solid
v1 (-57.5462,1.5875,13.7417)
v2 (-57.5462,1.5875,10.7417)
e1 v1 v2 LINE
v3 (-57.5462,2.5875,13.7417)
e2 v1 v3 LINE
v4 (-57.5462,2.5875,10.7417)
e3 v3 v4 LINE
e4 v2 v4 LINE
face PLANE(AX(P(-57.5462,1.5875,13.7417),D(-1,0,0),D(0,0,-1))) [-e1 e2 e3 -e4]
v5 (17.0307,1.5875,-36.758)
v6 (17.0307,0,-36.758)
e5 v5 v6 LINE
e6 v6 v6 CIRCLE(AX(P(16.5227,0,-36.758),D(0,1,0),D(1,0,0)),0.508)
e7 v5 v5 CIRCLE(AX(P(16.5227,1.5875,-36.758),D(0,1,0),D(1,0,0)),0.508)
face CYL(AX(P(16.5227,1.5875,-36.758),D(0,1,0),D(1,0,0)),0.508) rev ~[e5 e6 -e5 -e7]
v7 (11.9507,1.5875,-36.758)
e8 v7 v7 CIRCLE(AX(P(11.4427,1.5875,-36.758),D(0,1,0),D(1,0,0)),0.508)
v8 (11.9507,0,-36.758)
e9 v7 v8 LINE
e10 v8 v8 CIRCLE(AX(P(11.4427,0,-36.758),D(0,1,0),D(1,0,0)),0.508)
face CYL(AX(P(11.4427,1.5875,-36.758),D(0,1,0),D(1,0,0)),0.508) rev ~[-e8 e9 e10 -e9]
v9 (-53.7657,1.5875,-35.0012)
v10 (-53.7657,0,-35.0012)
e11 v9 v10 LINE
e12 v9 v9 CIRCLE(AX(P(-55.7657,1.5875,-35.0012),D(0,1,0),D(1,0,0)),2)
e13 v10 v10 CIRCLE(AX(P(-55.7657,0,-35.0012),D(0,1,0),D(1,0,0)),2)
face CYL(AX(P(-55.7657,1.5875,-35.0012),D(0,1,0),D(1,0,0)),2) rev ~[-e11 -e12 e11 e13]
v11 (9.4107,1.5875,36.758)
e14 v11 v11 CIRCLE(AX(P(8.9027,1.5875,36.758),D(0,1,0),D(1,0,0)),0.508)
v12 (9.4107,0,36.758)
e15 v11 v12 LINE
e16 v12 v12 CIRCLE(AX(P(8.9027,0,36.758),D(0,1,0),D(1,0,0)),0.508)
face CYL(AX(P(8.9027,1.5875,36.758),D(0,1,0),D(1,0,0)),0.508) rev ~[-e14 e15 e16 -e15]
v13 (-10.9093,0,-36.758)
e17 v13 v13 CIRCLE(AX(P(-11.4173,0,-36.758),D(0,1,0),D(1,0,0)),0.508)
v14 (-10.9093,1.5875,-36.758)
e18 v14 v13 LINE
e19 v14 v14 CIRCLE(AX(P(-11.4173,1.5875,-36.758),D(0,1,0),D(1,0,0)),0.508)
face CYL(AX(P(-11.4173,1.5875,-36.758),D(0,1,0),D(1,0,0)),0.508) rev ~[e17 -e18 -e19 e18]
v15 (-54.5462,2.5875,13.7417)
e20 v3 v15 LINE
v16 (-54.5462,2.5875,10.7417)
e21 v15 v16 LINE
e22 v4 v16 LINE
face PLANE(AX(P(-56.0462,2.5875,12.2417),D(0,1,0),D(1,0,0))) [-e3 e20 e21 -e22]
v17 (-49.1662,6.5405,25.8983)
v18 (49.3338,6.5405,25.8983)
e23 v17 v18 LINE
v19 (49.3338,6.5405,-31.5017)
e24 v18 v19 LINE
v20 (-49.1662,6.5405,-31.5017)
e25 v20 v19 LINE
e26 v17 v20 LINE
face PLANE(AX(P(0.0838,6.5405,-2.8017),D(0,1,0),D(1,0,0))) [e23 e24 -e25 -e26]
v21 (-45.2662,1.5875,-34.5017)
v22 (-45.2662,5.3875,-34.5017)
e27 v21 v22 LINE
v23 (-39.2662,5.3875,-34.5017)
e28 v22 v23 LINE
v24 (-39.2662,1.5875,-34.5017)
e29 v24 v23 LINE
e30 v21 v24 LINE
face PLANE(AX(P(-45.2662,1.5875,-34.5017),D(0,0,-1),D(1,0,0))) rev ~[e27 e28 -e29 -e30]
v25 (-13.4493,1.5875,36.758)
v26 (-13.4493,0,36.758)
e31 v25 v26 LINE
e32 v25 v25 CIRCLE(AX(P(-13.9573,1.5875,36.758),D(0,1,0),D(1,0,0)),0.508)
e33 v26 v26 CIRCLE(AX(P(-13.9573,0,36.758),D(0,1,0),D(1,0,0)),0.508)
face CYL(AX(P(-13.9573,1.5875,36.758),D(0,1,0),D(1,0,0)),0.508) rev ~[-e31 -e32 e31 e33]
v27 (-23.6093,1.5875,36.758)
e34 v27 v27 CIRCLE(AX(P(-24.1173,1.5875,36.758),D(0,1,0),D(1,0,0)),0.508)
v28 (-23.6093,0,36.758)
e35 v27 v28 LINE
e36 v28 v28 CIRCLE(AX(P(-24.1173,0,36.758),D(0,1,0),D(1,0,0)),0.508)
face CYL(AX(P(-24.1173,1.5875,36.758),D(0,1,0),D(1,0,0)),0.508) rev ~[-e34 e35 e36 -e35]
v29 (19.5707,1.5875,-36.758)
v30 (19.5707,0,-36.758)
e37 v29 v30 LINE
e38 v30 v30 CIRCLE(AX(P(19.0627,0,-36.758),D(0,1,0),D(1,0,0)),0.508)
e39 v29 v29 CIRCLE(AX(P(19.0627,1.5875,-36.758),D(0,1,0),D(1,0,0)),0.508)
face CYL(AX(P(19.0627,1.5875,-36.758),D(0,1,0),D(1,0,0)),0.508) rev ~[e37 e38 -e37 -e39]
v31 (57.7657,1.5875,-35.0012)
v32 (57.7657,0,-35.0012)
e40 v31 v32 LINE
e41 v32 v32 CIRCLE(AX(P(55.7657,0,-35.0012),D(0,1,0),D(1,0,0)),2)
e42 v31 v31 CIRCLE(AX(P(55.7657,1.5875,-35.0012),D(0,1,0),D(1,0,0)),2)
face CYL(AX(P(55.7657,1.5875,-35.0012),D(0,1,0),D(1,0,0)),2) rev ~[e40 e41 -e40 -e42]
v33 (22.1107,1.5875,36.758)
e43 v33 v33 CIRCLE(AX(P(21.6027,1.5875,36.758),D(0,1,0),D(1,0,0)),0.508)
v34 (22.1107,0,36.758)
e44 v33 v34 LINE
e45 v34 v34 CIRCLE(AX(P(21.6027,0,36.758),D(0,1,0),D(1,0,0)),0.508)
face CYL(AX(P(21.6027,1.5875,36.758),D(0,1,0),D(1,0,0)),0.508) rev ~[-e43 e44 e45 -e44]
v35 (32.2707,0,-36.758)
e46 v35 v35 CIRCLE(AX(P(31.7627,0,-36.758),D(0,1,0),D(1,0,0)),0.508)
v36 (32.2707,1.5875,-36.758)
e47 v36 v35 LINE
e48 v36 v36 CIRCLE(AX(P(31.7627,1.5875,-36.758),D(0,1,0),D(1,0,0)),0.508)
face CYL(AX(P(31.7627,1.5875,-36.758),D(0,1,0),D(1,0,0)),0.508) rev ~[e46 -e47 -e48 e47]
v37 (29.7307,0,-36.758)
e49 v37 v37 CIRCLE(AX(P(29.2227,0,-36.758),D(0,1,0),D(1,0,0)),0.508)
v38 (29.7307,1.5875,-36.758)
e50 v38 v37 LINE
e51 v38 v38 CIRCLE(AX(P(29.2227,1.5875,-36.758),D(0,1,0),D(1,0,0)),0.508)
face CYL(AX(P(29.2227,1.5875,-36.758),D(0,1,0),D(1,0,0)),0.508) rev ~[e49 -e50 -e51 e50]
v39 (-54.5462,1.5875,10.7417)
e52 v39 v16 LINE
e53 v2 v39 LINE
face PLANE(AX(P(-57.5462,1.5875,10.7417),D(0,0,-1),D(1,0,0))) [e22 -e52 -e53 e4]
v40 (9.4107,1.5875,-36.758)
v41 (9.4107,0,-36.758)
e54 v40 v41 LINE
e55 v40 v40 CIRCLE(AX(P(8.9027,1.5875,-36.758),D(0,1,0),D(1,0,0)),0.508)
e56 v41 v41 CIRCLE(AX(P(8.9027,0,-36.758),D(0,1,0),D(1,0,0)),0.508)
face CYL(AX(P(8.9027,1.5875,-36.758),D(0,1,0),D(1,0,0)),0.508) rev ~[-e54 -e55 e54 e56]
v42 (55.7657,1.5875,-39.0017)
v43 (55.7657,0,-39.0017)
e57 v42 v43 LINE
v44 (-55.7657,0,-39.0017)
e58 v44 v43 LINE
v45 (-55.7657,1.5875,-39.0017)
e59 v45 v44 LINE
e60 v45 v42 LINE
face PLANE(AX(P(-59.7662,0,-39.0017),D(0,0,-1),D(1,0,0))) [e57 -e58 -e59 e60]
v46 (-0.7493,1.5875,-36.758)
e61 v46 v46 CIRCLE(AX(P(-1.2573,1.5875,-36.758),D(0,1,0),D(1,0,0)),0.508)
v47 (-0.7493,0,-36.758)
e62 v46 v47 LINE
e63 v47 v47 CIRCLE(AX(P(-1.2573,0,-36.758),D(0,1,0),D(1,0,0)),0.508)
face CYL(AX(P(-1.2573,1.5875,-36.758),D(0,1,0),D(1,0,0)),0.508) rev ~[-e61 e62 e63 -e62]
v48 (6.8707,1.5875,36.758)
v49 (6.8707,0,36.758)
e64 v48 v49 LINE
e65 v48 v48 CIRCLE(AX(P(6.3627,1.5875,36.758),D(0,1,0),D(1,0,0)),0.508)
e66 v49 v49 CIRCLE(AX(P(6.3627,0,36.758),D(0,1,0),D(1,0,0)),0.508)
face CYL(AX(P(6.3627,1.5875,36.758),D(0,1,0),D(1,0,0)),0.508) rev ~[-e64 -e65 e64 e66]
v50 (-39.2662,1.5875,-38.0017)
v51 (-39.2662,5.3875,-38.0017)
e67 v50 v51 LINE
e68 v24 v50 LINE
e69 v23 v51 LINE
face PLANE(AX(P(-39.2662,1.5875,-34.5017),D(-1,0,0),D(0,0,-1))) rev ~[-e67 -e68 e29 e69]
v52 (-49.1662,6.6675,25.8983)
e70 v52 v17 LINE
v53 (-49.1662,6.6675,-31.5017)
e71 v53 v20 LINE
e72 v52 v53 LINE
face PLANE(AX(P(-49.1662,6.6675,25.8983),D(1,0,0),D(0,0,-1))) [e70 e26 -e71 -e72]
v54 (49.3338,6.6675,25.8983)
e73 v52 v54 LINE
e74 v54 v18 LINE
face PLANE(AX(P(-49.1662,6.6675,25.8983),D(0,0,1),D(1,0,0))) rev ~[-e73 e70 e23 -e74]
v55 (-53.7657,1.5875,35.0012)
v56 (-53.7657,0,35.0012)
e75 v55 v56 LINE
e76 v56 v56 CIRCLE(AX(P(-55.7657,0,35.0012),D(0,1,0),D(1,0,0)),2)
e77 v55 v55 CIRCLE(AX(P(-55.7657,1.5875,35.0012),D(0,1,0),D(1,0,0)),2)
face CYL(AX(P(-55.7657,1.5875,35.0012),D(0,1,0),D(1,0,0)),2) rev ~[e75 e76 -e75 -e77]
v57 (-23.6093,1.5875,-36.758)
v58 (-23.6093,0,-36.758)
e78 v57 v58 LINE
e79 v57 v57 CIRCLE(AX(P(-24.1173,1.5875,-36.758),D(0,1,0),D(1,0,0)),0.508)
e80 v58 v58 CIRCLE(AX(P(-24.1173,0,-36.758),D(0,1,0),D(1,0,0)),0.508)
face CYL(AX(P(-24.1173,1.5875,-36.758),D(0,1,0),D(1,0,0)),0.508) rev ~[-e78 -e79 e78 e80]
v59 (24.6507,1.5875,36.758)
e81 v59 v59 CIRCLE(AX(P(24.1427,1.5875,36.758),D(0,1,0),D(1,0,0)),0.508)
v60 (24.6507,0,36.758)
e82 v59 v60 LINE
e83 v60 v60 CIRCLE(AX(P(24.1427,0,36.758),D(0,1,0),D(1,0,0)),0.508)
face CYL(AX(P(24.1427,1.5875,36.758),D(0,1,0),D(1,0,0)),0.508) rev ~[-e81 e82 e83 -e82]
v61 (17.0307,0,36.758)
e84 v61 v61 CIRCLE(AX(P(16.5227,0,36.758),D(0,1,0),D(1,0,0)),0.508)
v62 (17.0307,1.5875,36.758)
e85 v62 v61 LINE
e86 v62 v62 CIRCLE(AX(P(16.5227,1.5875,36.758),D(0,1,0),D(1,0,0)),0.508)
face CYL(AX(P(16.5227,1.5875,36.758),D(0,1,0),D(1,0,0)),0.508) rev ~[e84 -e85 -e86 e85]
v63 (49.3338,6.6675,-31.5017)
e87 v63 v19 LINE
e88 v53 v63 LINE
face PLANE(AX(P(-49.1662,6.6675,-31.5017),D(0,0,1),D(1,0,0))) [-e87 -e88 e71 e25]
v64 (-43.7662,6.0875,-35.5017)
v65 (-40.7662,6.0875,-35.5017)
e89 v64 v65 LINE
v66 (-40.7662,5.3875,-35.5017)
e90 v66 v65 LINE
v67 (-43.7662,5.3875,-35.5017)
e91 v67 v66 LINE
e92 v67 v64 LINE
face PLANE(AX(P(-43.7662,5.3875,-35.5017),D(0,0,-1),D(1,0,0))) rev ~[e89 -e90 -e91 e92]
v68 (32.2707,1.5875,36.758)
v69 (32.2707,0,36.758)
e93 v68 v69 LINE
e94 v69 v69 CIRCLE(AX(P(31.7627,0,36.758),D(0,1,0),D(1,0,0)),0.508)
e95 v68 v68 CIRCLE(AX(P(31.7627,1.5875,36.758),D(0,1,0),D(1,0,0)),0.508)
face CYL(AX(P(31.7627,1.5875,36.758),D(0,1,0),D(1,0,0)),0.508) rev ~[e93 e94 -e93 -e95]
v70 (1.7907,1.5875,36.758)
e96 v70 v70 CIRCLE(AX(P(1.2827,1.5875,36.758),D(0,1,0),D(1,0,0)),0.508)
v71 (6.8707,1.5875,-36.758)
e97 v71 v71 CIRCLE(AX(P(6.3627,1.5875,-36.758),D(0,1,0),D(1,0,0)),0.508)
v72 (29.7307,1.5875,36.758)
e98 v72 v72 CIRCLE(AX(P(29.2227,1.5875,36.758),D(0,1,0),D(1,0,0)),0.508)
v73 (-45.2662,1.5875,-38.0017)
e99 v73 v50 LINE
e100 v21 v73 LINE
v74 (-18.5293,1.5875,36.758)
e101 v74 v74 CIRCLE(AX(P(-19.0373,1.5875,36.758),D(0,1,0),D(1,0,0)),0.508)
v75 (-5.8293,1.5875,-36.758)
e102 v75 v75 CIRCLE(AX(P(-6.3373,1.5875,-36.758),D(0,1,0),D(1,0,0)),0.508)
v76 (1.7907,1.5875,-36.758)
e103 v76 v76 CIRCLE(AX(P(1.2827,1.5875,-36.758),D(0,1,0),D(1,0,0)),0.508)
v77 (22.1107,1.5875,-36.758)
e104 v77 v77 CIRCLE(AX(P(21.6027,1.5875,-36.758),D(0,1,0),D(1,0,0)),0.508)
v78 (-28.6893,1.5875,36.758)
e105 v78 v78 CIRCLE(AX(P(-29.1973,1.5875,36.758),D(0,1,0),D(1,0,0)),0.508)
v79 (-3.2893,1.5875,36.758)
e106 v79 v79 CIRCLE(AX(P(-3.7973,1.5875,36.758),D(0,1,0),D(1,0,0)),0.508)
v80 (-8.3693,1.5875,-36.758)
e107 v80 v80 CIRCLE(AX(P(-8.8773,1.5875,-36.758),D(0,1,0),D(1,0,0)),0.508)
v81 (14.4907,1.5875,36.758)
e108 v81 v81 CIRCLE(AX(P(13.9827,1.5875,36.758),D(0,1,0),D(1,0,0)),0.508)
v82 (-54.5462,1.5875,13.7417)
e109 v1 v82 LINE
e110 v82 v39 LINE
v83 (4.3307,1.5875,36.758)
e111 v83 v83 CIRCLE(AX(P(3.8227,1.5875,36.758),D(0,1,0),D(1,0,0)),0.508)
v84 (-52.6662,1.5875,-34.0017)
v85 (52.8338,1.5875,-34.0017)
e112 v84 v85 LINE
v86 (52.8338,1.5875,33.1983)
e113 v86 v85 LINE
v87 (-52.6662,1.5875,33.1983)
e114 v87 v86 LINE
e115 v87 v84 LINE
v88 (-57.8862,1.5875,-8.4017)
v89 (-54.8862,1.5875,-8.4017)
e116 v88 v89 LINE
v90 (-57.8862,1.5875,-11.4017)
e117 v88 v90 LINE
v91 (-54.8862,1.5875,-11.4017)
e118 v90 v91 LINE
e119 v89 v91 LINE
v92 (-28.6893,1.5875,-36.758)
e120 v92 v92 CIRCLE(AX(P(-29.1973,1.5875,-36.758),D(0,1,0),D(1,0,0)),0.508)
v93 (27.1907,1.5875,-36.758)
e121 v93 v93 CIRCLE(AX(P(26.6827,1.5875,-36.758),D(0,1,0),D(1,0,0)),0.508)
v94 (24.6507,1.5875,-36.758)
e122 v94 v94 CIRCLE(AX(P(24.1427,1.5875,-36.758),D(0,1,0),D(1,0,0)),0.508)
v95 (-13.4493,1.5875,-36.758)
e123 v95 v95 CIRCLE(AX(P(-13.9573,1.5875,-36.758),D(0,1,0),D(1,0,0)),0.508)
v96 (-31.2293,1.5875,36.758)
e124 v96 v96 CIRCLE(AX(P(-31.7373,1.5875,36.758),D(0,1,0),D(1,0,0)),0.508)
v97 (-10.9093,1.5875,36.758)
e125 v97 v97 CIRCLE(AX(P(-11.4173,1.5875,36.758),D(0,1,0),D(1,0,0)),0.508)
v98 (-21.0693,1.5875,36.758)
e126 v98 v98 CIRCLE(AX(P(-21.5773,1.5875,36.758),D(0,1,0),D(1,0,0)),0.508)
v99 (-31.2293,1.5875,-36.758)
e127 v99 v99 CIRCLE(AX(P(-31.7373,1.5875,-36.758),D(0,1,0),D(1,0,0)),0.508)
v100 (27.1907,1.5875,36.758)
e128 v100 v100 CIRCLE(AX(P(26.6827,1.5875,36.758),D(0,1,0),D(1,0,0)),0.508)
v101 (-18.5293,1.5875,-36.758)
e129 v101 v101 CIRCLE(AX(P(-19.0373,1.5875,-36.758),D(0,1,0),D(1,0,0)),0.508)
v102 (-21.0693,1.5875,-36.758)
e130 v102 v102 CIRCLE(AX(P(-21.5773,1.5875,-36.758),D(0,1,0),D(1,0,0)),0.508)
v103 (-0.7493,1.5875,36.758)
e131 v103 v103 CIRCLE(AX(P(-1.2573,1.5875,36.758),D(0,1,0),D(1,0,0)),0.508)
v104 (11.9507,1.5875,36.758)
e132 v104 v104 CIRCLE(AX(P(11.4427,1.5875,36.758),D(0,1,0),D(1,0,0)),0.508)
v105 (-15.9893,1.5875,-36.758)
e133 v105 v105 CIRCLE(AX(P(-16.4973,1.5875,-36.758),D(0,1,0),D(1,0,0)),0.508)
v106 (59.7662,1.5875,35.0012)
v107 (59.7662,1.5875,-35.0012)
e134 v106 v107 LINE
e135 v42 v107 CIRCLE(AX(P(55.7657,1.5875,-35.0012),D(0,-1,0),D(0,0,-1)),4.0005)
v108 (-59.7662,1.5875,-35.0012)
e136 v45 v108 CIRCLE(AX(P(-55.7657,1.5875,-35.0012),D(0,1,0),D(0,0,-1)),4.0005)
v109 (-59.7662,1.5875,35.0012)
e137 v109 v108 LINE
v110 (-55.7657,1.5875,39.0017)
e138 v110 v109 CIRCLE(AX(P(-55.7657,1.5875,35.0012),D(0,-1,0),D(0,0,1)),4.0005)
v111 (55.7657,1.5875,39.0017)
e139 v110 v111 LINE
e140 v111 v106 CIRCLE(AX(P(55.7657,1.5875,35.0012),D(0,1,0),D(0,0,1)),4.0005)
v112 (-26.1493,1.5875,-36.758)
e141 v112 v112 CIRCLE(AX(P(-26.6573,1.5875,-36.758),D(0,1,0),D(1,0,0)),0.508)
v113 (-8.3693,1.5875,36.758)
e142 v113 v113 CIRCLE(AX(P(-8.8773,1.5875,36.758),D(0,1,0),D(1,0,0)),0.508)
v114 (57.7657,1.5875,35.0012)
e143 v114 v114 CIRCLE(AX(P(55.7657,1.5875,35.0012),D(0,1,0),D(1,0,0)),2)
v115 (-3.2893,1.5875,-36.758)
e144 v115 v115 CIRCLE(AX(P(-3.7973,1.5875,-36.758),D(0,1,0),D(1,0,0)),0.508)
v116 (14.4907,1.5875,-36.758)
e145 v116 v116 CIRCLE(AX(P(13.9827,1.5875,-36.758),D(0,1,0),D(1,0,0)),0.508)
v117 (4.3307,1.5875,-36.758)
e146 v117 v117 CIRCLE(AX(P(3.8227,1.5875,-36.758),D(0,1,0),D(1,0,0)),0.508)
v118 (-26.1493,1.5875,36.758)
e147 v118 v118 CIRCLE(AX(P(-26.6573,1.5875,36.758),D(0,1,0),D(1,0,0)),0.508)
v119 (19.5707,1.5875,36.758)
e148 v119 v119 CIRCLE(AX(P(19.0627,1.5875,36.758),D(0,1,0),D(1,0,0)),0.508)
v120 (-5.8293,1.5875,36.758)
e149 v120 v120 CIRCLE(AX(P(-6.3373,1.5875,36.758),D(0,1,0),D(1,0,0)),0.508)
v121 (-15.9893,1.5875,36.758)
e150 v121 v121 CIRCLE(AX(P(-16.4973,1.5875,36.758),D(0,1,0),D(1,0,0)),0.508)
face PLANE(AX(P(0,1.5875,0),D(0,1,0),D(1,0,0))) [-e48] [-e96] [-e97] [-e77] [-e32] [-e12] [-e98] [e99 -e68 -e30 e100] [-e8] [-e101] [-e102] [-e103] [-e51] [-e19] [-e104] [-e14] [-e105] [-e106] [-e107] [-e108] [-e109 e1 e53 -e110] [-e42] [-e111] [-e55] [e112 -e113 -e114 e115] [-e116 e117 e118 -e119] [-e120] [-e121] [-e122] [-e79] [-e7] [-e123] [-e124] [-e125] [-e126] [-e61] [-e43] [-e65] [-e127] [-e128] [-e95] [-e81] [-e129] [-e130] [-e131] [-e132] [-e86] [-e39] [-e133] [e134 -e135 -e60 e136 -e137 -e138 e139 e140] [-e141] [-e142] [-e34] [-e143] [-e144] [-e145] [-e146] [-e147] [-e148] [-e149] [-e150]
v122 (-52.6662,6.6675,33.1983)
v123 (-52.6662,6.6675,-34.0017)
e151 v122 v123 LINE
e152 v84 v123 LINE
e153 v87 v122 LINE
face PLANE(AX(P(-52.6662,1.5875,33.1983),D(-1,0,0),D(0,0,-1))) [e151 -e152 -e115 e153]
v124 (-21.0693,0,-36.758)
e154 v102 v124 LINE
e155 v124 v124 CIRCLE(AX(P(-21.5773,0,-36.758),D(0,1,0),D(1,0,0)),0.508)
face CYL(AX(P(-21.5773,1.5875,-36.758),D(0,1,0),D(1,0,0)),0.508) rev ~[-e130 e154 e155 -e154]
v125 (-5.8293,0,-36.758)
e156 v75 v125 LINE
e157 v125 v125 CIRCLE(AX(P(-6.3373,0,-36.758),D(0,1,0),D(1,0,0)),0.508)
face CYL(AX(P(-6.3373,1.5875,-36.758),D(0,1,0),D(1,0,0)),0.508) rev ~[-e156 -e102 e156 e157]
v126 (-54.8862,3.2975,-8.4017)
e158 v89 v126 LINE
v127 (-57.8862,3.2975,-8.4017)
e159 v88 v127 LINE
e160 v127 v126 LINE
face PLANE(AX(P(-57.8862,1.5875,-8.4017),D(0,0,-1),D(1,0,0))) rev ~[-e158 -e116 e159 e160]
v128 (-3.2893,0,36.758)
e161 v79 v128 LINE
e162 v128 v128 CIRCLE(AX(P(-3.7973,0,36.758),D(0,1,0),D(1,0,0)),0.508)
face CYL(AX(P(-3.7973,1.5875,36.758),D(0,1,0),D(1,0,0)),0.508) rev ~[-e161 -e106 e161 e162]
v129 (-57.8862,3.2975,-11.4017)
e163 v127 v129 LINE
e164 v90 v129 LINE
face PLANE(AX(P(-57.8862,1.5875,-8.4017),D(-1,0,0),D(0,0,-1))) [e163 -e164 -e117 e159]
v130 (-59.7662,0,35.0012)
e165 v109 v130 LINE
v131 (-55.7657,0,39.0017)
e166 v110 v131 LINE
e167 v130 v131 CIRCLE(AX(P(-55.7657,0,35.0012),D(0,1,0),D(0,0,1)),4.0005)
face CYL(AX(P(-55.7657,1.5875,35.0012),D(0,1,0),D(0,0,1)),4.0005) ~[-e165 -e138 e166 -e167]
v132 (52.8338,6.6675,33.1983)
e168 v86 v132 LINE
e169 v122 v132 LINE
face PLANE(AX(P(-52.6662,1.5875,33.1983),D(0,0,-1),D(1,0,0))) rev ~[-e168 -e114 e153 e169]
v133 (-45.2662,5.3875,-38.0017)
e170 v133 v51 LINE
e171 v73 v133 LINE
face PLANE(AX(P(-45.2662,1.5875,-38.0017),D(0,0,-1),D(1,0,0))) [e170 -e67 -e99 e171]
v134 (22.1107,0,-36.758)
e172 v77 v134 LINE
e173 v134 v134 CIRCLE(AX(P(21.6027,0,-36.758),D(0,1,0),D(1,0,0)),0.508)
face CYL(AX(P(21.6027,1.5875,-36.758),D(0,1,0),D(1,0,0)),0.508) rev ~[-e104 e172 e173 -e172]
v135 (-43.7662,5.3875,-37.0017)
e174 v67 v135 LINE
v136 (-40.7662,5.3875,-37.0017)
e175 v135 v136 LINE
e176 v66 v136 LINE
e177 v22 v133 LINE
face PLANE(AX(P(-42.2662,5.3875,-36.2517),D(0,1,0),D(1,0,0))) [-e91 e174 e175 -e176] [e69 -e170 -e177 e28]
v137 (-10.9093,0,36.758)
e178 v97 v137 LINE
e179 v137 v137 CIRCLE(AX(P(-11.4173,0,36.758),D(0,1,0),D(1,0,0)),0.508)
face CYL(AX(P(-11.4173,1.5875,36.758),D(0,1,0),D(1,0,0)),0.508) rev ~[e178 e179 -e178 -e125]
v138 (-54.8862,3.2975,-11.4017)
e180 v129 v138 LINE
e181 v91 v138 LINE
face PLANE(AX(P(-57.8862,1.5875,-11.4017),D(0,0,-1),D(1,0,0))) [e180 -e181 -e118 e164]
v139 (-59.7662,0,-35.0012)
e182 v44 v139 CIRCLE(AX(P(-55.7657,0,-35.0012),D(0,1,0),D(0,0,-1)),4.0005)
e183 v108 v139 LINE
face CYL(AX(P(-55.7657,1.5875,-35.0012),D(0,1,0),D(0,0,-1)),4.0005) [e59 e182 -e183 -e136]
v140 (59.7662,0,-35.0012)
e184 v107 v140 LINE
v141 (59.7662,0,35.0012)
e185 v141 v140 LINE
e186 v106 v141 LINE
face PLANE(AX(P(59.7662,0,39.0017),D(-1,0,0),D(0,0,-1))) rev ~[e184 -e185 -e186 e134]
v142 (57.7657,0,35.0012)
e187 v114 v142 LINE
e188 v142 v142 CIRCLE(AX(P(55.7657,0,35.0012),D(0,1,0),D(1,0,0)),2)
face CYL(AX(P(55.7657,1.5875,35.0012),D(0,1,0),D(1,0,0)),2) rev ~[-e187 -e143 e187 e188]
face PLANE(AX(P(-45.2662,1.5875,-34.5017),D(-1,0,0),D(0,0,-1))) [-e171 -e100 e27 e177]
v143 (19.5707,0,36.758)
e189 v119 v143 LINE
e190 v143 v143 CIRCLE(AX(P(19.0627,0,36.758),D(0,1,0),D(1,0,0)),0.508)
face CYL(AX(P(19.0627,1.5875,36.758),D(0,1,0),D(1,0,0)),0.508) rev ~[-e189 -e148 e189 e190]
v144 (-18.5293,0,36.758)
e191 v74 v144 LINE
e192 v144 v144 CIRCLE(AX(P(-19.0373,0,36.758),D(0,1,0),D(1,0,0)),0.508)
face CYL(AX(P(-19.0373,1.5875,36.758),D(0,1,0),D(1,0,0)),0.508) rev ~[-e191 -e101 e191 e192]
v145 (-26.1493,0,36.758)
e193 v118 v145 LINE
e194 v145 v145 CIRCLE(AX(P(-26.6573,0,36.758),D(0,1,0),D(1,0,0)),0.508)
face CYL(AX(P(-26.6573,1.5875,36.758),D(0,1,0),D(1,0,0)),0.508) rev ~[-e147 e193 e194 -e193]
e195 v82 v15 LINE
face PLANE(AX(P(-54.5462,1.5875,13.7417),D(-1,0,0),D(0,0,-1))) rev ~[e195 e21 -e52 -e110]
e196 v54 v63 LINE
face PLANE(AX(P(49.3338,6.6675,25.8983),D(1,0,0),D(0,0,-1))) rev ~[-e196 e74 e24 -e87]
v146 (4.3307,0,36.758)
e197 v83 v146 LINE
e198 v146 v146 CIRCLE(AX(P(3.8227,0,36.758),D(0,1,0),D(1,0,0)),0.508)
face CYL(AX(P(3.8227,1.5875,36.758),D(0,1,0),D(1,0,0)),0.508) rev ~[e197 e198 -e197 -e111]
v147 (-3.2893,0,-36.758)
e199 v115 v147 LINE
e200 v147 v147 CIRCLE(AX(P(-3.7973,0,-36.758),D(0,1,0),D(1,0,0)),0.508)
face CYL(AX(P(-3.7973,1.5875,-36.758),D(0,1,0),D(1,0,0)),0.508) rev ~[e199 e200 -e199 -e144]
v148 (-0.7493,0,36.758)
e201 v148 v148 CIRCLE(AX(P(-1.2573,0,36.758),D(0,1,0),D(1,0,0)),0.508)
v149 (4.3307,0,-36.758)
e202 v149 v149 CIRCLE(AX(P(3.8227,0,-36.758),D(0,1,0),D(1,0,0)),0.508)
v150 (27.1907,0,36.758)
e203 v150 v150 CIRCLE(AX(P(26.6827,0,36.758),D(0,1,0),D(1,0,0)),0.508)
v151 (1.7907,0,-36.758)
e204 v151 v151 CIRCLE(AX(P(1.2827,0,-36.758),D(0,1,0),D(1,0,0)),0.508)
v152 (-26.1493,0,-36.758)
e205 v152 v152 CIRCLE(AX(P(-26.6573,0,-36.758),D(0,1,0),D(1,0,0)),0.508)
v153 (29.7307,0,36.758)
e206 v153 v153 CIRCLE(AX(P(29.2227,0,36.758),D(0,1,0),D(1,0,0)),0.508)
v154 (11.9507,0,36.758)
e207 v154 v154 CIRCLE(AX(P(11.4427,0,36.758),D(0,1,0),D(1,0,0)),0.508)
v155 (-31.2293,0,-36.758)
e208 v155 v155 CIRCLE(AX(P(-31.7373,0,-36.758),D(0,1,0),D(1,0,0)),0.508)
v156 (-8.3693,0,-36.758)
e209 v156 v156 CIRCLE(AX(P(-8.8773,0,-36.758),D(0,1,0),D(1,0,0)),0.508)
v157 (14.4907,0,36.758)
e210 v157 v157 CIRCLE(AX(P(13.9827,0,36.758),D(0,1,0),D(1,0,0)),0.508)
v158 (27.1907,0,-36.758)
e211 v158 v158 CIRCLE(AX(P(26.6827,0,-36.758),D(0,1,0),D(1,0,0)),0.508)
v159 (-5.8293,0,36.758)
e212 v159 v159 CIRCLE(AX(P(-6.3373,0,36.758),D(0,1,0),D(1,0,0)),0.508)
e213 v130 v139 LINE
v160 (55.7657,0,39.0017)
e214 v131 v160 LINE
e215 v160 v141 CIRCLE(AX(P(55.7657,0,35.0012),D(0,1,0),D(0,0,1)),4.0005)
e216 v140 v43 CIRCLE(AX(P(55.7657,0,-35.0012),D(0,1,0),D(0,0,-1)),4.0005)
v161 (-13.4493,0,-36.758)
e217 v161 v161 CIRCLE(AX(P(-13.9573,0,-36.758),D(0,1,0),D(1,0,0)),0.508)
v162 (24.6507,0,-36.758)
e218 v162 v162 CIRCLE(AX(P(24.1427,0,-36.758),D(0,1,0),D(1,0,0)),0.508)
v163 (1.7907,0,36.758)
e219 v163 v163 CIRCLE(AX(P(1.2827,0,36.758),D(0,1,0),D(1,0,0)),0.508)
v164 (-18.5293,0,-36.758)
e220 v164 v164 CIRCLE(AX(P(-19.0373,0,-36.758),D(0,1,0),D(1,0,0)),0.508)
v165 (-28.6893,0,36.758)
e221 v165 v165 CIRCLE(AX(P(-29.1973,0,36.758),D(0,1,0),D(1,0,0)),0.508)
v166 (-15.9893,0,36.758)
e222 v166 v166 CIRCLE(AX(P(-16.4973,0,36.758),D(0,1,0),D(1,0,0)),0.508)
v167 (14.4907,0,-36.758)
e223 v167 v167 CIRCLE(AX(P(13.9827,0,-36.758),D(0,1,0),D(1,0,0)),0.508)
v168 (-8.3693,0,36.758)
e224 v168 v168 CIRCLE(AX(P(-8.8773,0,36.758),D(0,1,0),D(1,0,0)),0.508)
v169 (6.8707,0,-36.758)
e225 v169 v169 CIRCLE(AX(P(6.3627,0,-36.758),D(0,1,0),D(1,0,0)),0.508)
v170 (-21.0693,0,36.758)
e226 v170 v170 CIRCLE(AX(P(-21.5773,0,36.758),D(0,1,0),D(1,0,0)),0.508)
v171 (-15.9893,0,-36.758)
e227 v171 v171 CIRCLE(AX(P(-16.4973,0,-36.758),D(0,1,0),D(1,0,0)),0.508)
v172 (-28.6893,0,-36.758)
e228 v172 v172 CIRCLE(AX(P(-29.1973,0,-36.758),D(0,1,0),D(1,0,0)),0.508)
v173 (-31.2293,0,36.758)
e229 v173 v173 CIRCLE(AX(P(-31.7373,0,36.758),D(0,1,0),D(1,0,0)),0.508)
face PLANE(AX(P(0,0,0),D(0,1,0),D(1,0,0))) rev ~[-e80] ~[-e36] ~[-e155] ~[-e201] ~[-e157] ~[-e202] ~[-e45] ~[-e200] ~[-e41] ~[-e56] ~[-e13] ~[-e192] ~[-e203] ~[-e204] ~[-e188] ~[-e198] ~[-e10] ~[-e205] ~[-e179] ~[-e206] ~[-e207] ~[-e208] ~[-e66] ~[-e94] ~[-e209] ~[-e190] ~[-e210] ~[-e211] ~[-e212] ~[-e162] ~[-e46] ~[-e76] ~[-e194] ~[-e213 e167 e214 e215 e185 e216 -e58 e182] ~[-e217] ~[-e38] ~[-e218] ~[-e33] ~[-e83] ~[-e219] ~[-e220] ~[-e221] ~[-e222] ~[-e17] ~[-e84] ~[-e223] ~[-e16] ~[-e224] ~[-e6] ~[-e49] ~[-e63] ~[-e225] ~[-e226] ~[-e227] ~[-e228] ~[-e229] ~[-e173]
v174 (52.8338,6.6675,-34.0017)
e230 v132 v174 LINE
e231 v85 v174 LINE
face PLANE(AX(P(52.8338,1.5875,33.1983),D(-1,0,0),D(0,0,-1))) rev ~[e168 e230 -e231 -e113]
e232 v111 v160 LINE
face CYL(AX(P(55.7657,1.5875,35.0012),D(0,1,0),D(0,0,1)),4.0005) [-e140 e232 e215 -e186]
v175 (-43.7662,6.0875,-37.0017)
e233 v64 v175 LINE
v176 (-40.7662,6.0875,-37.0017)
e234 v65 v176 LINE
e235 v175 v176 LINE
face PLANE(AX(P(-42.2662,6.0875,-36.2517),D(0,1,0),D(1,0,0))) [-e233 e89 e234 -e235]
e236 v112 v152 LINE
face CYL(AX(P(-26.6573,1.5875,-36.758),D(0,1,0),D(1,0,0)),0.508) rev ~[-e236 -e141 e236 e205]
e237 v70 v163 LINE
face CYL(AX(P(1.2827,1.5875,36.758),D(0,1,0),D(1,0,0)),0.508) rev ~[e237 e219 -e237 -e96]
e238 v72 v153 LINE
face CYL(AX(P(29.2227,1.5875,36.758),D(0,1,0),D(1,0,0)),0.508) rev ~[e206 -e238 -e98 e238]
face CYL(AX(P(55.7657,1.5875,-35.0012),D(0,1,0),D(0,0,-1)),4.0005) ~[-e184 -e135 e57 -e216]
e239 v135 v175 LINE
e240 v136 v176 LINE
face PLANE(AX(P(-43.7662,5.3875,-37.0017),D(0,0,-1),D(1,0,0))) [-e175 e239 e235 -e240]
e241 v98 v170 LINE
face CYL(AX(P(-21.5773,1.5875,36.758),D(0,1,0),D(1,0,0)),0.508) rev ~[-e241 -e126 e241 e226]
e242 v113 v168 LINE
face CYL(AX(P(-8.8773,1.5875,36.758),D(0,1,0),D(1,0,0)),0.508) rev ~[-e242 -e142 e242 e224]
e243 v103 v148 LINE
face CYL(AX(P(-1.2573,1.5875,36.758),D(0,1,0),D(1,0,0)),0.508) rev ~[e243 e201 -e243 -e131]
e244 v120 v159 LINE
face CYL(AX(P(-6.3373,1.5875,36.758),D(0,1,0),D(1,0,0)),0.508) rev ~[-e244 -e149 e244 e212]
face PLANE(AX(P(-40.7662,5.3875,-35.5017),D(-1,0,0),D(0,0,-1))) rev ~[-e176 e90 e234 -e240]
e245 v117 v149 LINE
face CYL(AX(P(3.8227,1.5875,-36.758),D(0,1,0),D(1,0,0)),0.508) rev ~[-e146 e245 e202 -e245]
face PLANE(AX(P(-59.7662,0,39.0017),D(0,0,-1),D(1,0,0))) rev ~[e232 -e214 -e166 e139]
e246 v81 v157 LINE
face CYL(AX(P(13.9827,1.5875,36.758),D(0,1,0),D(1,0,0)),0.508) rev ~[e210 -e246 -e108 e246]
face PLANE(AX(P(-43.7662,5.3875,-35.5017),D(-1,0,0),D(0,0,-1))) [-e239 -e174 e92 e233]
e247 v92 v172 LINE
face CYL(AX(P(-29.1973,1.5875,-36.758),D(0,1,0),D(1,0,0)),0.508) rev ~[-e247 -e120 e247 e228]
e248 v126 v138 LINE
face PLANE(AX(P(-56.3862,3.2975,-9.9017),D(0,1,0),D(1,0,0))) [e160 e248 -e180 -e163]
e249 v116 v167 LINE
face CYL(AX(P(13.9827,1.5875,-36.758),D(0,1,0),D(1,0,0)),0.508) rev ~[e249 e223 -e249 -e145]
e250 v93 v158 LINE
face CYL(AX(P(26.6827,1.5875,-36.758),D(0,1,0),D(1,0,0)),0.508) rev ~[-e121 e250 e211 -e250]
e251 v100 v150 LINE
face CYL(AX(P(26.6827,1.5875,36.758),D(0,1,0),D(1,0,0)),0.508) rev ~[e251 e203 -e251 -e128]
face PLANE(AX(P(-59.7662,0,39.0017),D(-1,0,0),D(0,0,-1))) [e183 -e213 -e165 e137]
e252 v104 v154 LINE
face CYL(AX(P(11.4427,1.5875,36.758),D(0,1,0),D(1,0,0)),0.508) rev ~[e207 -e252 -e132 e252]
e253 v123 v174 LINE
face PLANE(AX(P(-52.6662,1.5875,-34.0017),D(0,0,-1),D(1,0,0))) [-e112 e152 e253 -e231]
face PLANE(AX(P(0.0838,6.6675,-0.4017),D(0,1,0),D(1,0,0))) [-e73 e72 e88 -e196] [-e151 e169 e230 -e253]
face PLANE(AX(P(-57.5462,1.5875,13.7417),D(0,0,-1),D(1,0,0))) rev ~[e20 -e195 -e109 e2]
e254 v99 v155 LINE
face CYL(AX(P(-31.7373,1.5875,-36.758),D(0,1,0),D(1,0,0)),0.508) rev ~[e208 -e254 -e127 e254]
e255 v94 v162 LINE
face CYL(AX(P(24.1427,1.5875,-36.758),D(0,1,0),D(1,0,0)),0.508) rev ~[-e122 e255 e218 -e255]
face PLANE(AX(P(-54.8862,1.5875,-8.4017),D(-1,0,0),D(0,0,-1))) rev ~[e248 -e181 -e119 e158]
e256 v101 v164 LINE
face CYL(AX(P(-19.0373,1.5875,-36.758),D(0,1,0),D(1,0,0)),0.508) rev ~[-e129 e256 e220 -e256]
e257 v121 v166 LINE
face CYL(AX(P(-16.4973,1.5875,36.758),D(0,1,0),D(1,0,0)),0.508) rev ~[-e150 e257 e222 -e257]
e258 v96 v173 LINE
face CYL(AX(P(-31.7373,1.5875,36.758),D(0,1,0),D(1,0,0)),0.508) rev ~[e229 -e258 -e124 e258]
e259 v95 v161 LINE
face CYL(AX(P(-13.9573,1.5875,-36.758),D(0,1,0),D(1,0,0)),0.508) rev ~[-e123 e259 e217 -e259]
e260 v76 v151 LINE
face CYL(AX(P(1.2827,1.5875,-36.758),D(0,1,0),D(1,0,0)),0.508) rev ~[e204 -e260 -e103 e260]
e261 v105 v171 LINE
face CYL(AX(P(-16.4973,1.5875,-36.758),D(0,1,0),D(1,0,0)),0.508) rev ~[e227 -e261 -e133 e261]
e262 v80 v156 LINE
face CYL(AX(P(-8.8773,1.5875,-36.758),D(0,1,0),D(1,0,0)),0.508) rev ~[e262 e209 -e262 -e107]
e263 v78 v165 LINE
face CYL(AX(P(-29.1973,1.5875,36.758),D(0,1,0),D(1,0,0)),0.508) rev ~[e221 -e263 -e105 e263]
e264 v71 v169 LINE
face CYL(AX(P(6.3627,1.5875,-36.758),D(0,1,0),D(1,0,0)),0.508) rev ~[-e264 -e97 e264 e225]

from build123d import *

# Parameters (mm, degrees)
SKETCH1_W           = 119.5324
SKETCH1_H           = 78.0034
BOSS_EXTRUDE1_DEPTH = 1.5875
CUT_EXTRUDE1_REACH  = 3.587
SKETCH2_R           = 2
SKETCH3_R           = 0.508
CUT_EXTRUDE2_DEPTH  = 1.5875
CUT_EXTRUDE4_REACH  = 3.587
LPATTERN1_COUNT     = 26
LPATTERN1_PITCH     = 2.54
SKETCH5_W           = 105.5
SKETCH5_H           = 67.2
BOSS_EXTRUDE2_DEPTH = 5.08
SKETCH6_W           = 98.5
SKETCH6_H           = 57.4
CUT_EXTRUDE3_DEPTH  = 0.127
SKETCH7_W           = 6
SKETCH7_H           = 3.5
BOSS_EXTRUDE3_DEPTH = 3.8
SKETCH8_W           = 3
SKETCH8_H           = 1.5
BOSS_EXTRUDE4_DEPTH = 0.7
SKETCH9_W           = 3
SKETCH9_H           = 3
BOSS_EXTRUDE5_DEPTH = 1.71
SKETCH10_W          = 3
SKETCH10_H          = 3
BOSS_EXTRUDE6_DEPTH = 1


with BuildPart() as part:
    # Sketch1 → Boss-Extrude1 (new body)
    with BuildSketch(Plane(origin=(0, 0, 0), x_dir=(1, 0, 0), z_dir=(0, 1, 0))):
        Rectangle(SKETCH1_W, SKETCH1_H)
    extrude(amount=BOSS_EXTRUDE1_DEPTH)

    # Sketch2 → Cut-Extrude1 (cut, up to next)
    with BuildSketch(Plane(origin=(0, 1.5875, 0), x_dir=(1, 0, 0), z_dir=(0, 1, 0)), mode=Mode.PRIVATE) as cut_extrude1_sk1:
        with Locations((-55.7657, 35.0012)):
            Circle(SKETCH2_R)
    cut_extrude1_tool1 = extrude(cut_extrude1_sk1.sketch, amount=-CUT_EXTRUDE1_REACH, mode=Mode.PRIVATE) & part.part
    add(cut_extrude1_tool1.solids().sort_by_distance((-55.7657, 1.5875, -35.0012))[0], mode=Mode.SUBTRACT)
    # Sketch2 → Cut-Extrude1 (cut, up to next)
    with BuildSketch(Plane(origin=(0, 1.5875, 0), x_dir=(1, 0, 0), z_dir=(0, 1, 0)), mode=Mode.PRIVATE) as cut_extrude1_sk2:
        with Locations((-55.7657, -35.0012)):
            Circle(SKETCH2_R)
    cut_extrude1_tool2 = extrude(cut_extrude1_sk2.sketch, amount=-CUT_EXTRUDE1_REACH, mode=Mode.PRIVATE) & part.part
    add(cut_extrude1_tool2.solids().sort_by_distance((-55.7657, 1.5875, 35.0012))[0], mode=Mode.SUBTRACT)
    # Sketch2 → Cut-Extrude1 (cut, up to next)
    with BuildSketch(Plane(origin=(0, 1.5875, 0), x_dir=(1, 0, 0), z_dir=(0, 1, 0)), mode=Mode.PRIVATE) as cut_extrude1_sk3:
        with Locations((55.7657, 35.0012)):
            Circle(SKETCH2_R)
    cut_extrude1_tool3 = extrude(cut_extrude1_sk3.sketch, amount=-CUT_EXTRUDE1_REACH, mode=Mode.PRIVATE) & part.part
    add(cut_extrude1_tool3.solids().sort_by_distance((55.7657, 1.5875, -35.0012))[0], mode=Mode.SUBTRACT)
    # Sketch2 → Cut-Extrude1 (cut, up to next)
    with BuildSketch(Plane(origin=(0, 1.5875, 0), x_dir=(1, 0, 0), z_dir=(0, 1, 0)), mode=Mode.PRIVATE) as cut_extrude1_sk4:
        with Locations((55.7657, -35.0012)):
            Circle(SKETCH2_R)
    cut_extrude1_tool4 = extrude(cut_extrude1_sk4.sketch, amount=-CUT_EXTRUDE1_REACH, mode=Mode.PRIVATE) & part.part
    add(cut_extrude1_tool4.solids().sort_by_distance((55.7657, 1.5875, 35.0012))[0], mode=Mode.SUBTRACT)

    # Sketch3 → Cut-Extrude2 (cut)
    with BuildSketch(Plane(origin=(0, 1.5875, 0), x_dir=(1, 0, 0), z_dir=(0, 1, 0))):
        with Locations((-31.7373, 36.758)):
            Circle(SKETCH3_R)
        with Locations((-31.7373, -36.758)):
            Circle(SKETCH3_R)
    cut_extrude2 = extrude(amount=-CUT_EXTRUDE2_DEPTH, mode=Mode.SUBTRACT)

    # Sketch11 → Cut-Extrude4 (cut, up to next)
    with BuildSketch(Plane(origin=(0, 1.5875, 0), x_dir=(1, 0, 0), z_dir=(0, 1, 0)), mode=Mode.PRIVATE) as cut_extrude4_sk1:
        with BuildLine():
            Line((-59.7662, 35.0012), (-59.7662, 39.0017))
            Line((-59.7662, 39.0017), (-55.7657, 39.0017))
            ThreePointArc((-55.7657, 39.0017), (-58.594480678, 37.829980678), (-59.7662, 35.0012))
        make_face()
    cut_extrude4_tool1 = extrude(cut_extrude4_sk1.sketch, amount=-CUT_EXTRUDE4_REACH, mode=Mode.PRIVATE) & part.part
    add(cut_extrude4_tool1.solids().sort_by_distance((-58.872617, 1.5875, -38.108117))[0], mode=Mode.SUBTRACT)
    # Sketch11 → Cut-Extrude4 (cut, up to next)
    with BuildSketch(Plane(origin=(0, 1.5875, 0), x_dir=(1, 0, 0), z_dir=(0, 1, 0)), mode=Mode.PRIVATE) as cut_extrude4_sk2:
        with BuildLine():
            Line((-59.7662, -39.0017), (-55.7657, -39.0017))
            ThreePointArc((-55.7657, -39.0017), (-58.594480678, -37.829980678), (-59.7662, -35.0012))
            Line((-59.7662, -35.0012), (-59.7662, -39.0017))
        make_face()
    cut_extrude4_tool2 = extrude(cut_extrude4_sk2.sketch, amount=-CUT_EXTRUDE4_REACH, mode=Mode.PRIVATE) & part.part
    add(cut_extrude4_tool2.solids().sort_by_distance((-58.872617, 1.5875, 38.108117))[0], mode=Mode.SUBTRACT)
    # Sketch11 → Cut-Extrude4 (cut, up to next)
    with BuildSketch(Plane(origin=(0, 1.5875, 0), x_dir=(1, 0, 0), z_dir=(0, 1, 0)), mode=Mode.PRIVATE) as cut_extrude4_sk3:
        with BuildLine():
            Line((59.7662, -35.0012), (59.7662, -39.0017))
            Line((59.7662, -39.0017), (55.7657, -39.0017))
            ThreePointArc((55.7657, -39.0017), (58.594480678, -37.829980678), (59.7662, -35.0012))
        make_face()
    cut_extrude4_tool3 = extrude(cut_extrude4_sk3.sketch, amount=-CUT_EXTRUDE4_REACH, mode=Mode.PRIVATE) & part.part
    add(cut_extrude4_tool3.solids().sort_by_distance((58.872617, 1.5875, 38.108117))[0], mode=Mode.SUBTRACT)
    # Sketch11 → Cut-Extrude4 (cut, up to next)
    with BuildSketch(Plane(origin=(0, 1.5875, 0), x_dir=(1, 0, 0), z_dir=(0, 1, 0)), mode=Mode.PRIVATE) as cut_extrude4_sk4:
        with BuildLine():
            Line((59.7662, 39.0017), (55.7657, 39.0017))
            ThreePointArc((55.7657, 39.0017), (58.594480678, 37.829980678), (59.7662, 35.0012))
            Line((59.7662, 35.0012), (59.7662, 39.0017))
        make_face()
    cut_extrude4_tool4 = extrude(cut_extrude4_sk4.sketch, amount=-CUT_EXTRUDE4_REACH, mode=Mode.PRIVATE) & part.part
    add(cut_extrude4_tool4.solids().sort_by_distance((58.872617, 1.5875, -38.108117))[0], mode=Mode.SUBTRACT)

    # LPattern1: Cut-Extrude2 ×26
    with Locations(*[(i * LPATTERN1_PITCH, 0, 0) for i in range(1, LPATTERN1_COUNT)]):
        add(cut_extrude2, mode=Mode.SUBTRACT)

    # Sketch5 → Boss-Extrude2 (add)
    with BuildSketch(Plane(origin=(0, 1.5875, 0), x_dir=(1, 0, 0), z_dir=(0, 1, 0))):
        with Locations((0.0838, 0.4017)):
            Rectangle(SKETCH5_W, SKETCH5_H)
    extrude(amount=BOSS_EXTRUDE2_DEPTH)

    # Sketch6 → Cut-Extrude3 (cut)
    with BuildSketch(Plane(origin=(0, 6.6675, 0), x_dir=(1, 0, 0), z_dir=(0, 1, 0))):
        with Locations((0.0838, 2.8017)):
            Rectangle(SKETCH6_W, SKETCH6_H)
    extrude(amount=-CUT_EXTRUDE3_DEPTH, mode=Mode.SUBTRACT)

    # Sketch7 → Boss-Extrude3 (add)
    with BuildSketch(Plane(origin=(0, 1.5875, 0), x_dir=(1, 0, 0), z_dir=(0, 1, 0))):
        with Locations((-42.2662, 36.2517)):
            Rectangle(SKETCH7_W, SKETCH7_H)
    extrude(amount=BOSS_EXTRUDE3_DEPTH)

    # Sketch8 → Boss-Extrude4 (add)
    with BuildSketch(Plane(origin=(0, 5.3875, 0), x_dir=(1, 0, 0), z_dir=(0, 1, 0))):
        with Locations((-42.2662, 36.2517)):
            Rectangle(SKETCH8_W, SKETCH8_H)
    extrude(amount=BOSS_EXTRUDE4_DEPTH)

    # Sketch9 → Boss-Extrude5 (add)
    with BuildSketch(Plane(origin=(0, 1.5875, 0), x_dir=(1, 0, 0), z_dir=(0, 1, 0))):
        with Locations((-56.3862, 9.9017)):
            Rectangle(SKETCH9_W, SKETCH9_H)
    extrude(amount=BOSS_EXTRUDE5_DEPTH)

    # Sketch10 → Boss-Extrude6 (add)
    with BuildSketch(Plane(origin=(0, 1.5875, 0), x_dir=(1, 0, 0), z_dir=(0, 1, 0))):
        with Locations((-56.0462, -12.2417)):
            Rectangle(SKETCH10_W, SKETCH10_H)
    extrude(amount=BOSS_EXTRUDE6_DEPTH)


solid = part.part
